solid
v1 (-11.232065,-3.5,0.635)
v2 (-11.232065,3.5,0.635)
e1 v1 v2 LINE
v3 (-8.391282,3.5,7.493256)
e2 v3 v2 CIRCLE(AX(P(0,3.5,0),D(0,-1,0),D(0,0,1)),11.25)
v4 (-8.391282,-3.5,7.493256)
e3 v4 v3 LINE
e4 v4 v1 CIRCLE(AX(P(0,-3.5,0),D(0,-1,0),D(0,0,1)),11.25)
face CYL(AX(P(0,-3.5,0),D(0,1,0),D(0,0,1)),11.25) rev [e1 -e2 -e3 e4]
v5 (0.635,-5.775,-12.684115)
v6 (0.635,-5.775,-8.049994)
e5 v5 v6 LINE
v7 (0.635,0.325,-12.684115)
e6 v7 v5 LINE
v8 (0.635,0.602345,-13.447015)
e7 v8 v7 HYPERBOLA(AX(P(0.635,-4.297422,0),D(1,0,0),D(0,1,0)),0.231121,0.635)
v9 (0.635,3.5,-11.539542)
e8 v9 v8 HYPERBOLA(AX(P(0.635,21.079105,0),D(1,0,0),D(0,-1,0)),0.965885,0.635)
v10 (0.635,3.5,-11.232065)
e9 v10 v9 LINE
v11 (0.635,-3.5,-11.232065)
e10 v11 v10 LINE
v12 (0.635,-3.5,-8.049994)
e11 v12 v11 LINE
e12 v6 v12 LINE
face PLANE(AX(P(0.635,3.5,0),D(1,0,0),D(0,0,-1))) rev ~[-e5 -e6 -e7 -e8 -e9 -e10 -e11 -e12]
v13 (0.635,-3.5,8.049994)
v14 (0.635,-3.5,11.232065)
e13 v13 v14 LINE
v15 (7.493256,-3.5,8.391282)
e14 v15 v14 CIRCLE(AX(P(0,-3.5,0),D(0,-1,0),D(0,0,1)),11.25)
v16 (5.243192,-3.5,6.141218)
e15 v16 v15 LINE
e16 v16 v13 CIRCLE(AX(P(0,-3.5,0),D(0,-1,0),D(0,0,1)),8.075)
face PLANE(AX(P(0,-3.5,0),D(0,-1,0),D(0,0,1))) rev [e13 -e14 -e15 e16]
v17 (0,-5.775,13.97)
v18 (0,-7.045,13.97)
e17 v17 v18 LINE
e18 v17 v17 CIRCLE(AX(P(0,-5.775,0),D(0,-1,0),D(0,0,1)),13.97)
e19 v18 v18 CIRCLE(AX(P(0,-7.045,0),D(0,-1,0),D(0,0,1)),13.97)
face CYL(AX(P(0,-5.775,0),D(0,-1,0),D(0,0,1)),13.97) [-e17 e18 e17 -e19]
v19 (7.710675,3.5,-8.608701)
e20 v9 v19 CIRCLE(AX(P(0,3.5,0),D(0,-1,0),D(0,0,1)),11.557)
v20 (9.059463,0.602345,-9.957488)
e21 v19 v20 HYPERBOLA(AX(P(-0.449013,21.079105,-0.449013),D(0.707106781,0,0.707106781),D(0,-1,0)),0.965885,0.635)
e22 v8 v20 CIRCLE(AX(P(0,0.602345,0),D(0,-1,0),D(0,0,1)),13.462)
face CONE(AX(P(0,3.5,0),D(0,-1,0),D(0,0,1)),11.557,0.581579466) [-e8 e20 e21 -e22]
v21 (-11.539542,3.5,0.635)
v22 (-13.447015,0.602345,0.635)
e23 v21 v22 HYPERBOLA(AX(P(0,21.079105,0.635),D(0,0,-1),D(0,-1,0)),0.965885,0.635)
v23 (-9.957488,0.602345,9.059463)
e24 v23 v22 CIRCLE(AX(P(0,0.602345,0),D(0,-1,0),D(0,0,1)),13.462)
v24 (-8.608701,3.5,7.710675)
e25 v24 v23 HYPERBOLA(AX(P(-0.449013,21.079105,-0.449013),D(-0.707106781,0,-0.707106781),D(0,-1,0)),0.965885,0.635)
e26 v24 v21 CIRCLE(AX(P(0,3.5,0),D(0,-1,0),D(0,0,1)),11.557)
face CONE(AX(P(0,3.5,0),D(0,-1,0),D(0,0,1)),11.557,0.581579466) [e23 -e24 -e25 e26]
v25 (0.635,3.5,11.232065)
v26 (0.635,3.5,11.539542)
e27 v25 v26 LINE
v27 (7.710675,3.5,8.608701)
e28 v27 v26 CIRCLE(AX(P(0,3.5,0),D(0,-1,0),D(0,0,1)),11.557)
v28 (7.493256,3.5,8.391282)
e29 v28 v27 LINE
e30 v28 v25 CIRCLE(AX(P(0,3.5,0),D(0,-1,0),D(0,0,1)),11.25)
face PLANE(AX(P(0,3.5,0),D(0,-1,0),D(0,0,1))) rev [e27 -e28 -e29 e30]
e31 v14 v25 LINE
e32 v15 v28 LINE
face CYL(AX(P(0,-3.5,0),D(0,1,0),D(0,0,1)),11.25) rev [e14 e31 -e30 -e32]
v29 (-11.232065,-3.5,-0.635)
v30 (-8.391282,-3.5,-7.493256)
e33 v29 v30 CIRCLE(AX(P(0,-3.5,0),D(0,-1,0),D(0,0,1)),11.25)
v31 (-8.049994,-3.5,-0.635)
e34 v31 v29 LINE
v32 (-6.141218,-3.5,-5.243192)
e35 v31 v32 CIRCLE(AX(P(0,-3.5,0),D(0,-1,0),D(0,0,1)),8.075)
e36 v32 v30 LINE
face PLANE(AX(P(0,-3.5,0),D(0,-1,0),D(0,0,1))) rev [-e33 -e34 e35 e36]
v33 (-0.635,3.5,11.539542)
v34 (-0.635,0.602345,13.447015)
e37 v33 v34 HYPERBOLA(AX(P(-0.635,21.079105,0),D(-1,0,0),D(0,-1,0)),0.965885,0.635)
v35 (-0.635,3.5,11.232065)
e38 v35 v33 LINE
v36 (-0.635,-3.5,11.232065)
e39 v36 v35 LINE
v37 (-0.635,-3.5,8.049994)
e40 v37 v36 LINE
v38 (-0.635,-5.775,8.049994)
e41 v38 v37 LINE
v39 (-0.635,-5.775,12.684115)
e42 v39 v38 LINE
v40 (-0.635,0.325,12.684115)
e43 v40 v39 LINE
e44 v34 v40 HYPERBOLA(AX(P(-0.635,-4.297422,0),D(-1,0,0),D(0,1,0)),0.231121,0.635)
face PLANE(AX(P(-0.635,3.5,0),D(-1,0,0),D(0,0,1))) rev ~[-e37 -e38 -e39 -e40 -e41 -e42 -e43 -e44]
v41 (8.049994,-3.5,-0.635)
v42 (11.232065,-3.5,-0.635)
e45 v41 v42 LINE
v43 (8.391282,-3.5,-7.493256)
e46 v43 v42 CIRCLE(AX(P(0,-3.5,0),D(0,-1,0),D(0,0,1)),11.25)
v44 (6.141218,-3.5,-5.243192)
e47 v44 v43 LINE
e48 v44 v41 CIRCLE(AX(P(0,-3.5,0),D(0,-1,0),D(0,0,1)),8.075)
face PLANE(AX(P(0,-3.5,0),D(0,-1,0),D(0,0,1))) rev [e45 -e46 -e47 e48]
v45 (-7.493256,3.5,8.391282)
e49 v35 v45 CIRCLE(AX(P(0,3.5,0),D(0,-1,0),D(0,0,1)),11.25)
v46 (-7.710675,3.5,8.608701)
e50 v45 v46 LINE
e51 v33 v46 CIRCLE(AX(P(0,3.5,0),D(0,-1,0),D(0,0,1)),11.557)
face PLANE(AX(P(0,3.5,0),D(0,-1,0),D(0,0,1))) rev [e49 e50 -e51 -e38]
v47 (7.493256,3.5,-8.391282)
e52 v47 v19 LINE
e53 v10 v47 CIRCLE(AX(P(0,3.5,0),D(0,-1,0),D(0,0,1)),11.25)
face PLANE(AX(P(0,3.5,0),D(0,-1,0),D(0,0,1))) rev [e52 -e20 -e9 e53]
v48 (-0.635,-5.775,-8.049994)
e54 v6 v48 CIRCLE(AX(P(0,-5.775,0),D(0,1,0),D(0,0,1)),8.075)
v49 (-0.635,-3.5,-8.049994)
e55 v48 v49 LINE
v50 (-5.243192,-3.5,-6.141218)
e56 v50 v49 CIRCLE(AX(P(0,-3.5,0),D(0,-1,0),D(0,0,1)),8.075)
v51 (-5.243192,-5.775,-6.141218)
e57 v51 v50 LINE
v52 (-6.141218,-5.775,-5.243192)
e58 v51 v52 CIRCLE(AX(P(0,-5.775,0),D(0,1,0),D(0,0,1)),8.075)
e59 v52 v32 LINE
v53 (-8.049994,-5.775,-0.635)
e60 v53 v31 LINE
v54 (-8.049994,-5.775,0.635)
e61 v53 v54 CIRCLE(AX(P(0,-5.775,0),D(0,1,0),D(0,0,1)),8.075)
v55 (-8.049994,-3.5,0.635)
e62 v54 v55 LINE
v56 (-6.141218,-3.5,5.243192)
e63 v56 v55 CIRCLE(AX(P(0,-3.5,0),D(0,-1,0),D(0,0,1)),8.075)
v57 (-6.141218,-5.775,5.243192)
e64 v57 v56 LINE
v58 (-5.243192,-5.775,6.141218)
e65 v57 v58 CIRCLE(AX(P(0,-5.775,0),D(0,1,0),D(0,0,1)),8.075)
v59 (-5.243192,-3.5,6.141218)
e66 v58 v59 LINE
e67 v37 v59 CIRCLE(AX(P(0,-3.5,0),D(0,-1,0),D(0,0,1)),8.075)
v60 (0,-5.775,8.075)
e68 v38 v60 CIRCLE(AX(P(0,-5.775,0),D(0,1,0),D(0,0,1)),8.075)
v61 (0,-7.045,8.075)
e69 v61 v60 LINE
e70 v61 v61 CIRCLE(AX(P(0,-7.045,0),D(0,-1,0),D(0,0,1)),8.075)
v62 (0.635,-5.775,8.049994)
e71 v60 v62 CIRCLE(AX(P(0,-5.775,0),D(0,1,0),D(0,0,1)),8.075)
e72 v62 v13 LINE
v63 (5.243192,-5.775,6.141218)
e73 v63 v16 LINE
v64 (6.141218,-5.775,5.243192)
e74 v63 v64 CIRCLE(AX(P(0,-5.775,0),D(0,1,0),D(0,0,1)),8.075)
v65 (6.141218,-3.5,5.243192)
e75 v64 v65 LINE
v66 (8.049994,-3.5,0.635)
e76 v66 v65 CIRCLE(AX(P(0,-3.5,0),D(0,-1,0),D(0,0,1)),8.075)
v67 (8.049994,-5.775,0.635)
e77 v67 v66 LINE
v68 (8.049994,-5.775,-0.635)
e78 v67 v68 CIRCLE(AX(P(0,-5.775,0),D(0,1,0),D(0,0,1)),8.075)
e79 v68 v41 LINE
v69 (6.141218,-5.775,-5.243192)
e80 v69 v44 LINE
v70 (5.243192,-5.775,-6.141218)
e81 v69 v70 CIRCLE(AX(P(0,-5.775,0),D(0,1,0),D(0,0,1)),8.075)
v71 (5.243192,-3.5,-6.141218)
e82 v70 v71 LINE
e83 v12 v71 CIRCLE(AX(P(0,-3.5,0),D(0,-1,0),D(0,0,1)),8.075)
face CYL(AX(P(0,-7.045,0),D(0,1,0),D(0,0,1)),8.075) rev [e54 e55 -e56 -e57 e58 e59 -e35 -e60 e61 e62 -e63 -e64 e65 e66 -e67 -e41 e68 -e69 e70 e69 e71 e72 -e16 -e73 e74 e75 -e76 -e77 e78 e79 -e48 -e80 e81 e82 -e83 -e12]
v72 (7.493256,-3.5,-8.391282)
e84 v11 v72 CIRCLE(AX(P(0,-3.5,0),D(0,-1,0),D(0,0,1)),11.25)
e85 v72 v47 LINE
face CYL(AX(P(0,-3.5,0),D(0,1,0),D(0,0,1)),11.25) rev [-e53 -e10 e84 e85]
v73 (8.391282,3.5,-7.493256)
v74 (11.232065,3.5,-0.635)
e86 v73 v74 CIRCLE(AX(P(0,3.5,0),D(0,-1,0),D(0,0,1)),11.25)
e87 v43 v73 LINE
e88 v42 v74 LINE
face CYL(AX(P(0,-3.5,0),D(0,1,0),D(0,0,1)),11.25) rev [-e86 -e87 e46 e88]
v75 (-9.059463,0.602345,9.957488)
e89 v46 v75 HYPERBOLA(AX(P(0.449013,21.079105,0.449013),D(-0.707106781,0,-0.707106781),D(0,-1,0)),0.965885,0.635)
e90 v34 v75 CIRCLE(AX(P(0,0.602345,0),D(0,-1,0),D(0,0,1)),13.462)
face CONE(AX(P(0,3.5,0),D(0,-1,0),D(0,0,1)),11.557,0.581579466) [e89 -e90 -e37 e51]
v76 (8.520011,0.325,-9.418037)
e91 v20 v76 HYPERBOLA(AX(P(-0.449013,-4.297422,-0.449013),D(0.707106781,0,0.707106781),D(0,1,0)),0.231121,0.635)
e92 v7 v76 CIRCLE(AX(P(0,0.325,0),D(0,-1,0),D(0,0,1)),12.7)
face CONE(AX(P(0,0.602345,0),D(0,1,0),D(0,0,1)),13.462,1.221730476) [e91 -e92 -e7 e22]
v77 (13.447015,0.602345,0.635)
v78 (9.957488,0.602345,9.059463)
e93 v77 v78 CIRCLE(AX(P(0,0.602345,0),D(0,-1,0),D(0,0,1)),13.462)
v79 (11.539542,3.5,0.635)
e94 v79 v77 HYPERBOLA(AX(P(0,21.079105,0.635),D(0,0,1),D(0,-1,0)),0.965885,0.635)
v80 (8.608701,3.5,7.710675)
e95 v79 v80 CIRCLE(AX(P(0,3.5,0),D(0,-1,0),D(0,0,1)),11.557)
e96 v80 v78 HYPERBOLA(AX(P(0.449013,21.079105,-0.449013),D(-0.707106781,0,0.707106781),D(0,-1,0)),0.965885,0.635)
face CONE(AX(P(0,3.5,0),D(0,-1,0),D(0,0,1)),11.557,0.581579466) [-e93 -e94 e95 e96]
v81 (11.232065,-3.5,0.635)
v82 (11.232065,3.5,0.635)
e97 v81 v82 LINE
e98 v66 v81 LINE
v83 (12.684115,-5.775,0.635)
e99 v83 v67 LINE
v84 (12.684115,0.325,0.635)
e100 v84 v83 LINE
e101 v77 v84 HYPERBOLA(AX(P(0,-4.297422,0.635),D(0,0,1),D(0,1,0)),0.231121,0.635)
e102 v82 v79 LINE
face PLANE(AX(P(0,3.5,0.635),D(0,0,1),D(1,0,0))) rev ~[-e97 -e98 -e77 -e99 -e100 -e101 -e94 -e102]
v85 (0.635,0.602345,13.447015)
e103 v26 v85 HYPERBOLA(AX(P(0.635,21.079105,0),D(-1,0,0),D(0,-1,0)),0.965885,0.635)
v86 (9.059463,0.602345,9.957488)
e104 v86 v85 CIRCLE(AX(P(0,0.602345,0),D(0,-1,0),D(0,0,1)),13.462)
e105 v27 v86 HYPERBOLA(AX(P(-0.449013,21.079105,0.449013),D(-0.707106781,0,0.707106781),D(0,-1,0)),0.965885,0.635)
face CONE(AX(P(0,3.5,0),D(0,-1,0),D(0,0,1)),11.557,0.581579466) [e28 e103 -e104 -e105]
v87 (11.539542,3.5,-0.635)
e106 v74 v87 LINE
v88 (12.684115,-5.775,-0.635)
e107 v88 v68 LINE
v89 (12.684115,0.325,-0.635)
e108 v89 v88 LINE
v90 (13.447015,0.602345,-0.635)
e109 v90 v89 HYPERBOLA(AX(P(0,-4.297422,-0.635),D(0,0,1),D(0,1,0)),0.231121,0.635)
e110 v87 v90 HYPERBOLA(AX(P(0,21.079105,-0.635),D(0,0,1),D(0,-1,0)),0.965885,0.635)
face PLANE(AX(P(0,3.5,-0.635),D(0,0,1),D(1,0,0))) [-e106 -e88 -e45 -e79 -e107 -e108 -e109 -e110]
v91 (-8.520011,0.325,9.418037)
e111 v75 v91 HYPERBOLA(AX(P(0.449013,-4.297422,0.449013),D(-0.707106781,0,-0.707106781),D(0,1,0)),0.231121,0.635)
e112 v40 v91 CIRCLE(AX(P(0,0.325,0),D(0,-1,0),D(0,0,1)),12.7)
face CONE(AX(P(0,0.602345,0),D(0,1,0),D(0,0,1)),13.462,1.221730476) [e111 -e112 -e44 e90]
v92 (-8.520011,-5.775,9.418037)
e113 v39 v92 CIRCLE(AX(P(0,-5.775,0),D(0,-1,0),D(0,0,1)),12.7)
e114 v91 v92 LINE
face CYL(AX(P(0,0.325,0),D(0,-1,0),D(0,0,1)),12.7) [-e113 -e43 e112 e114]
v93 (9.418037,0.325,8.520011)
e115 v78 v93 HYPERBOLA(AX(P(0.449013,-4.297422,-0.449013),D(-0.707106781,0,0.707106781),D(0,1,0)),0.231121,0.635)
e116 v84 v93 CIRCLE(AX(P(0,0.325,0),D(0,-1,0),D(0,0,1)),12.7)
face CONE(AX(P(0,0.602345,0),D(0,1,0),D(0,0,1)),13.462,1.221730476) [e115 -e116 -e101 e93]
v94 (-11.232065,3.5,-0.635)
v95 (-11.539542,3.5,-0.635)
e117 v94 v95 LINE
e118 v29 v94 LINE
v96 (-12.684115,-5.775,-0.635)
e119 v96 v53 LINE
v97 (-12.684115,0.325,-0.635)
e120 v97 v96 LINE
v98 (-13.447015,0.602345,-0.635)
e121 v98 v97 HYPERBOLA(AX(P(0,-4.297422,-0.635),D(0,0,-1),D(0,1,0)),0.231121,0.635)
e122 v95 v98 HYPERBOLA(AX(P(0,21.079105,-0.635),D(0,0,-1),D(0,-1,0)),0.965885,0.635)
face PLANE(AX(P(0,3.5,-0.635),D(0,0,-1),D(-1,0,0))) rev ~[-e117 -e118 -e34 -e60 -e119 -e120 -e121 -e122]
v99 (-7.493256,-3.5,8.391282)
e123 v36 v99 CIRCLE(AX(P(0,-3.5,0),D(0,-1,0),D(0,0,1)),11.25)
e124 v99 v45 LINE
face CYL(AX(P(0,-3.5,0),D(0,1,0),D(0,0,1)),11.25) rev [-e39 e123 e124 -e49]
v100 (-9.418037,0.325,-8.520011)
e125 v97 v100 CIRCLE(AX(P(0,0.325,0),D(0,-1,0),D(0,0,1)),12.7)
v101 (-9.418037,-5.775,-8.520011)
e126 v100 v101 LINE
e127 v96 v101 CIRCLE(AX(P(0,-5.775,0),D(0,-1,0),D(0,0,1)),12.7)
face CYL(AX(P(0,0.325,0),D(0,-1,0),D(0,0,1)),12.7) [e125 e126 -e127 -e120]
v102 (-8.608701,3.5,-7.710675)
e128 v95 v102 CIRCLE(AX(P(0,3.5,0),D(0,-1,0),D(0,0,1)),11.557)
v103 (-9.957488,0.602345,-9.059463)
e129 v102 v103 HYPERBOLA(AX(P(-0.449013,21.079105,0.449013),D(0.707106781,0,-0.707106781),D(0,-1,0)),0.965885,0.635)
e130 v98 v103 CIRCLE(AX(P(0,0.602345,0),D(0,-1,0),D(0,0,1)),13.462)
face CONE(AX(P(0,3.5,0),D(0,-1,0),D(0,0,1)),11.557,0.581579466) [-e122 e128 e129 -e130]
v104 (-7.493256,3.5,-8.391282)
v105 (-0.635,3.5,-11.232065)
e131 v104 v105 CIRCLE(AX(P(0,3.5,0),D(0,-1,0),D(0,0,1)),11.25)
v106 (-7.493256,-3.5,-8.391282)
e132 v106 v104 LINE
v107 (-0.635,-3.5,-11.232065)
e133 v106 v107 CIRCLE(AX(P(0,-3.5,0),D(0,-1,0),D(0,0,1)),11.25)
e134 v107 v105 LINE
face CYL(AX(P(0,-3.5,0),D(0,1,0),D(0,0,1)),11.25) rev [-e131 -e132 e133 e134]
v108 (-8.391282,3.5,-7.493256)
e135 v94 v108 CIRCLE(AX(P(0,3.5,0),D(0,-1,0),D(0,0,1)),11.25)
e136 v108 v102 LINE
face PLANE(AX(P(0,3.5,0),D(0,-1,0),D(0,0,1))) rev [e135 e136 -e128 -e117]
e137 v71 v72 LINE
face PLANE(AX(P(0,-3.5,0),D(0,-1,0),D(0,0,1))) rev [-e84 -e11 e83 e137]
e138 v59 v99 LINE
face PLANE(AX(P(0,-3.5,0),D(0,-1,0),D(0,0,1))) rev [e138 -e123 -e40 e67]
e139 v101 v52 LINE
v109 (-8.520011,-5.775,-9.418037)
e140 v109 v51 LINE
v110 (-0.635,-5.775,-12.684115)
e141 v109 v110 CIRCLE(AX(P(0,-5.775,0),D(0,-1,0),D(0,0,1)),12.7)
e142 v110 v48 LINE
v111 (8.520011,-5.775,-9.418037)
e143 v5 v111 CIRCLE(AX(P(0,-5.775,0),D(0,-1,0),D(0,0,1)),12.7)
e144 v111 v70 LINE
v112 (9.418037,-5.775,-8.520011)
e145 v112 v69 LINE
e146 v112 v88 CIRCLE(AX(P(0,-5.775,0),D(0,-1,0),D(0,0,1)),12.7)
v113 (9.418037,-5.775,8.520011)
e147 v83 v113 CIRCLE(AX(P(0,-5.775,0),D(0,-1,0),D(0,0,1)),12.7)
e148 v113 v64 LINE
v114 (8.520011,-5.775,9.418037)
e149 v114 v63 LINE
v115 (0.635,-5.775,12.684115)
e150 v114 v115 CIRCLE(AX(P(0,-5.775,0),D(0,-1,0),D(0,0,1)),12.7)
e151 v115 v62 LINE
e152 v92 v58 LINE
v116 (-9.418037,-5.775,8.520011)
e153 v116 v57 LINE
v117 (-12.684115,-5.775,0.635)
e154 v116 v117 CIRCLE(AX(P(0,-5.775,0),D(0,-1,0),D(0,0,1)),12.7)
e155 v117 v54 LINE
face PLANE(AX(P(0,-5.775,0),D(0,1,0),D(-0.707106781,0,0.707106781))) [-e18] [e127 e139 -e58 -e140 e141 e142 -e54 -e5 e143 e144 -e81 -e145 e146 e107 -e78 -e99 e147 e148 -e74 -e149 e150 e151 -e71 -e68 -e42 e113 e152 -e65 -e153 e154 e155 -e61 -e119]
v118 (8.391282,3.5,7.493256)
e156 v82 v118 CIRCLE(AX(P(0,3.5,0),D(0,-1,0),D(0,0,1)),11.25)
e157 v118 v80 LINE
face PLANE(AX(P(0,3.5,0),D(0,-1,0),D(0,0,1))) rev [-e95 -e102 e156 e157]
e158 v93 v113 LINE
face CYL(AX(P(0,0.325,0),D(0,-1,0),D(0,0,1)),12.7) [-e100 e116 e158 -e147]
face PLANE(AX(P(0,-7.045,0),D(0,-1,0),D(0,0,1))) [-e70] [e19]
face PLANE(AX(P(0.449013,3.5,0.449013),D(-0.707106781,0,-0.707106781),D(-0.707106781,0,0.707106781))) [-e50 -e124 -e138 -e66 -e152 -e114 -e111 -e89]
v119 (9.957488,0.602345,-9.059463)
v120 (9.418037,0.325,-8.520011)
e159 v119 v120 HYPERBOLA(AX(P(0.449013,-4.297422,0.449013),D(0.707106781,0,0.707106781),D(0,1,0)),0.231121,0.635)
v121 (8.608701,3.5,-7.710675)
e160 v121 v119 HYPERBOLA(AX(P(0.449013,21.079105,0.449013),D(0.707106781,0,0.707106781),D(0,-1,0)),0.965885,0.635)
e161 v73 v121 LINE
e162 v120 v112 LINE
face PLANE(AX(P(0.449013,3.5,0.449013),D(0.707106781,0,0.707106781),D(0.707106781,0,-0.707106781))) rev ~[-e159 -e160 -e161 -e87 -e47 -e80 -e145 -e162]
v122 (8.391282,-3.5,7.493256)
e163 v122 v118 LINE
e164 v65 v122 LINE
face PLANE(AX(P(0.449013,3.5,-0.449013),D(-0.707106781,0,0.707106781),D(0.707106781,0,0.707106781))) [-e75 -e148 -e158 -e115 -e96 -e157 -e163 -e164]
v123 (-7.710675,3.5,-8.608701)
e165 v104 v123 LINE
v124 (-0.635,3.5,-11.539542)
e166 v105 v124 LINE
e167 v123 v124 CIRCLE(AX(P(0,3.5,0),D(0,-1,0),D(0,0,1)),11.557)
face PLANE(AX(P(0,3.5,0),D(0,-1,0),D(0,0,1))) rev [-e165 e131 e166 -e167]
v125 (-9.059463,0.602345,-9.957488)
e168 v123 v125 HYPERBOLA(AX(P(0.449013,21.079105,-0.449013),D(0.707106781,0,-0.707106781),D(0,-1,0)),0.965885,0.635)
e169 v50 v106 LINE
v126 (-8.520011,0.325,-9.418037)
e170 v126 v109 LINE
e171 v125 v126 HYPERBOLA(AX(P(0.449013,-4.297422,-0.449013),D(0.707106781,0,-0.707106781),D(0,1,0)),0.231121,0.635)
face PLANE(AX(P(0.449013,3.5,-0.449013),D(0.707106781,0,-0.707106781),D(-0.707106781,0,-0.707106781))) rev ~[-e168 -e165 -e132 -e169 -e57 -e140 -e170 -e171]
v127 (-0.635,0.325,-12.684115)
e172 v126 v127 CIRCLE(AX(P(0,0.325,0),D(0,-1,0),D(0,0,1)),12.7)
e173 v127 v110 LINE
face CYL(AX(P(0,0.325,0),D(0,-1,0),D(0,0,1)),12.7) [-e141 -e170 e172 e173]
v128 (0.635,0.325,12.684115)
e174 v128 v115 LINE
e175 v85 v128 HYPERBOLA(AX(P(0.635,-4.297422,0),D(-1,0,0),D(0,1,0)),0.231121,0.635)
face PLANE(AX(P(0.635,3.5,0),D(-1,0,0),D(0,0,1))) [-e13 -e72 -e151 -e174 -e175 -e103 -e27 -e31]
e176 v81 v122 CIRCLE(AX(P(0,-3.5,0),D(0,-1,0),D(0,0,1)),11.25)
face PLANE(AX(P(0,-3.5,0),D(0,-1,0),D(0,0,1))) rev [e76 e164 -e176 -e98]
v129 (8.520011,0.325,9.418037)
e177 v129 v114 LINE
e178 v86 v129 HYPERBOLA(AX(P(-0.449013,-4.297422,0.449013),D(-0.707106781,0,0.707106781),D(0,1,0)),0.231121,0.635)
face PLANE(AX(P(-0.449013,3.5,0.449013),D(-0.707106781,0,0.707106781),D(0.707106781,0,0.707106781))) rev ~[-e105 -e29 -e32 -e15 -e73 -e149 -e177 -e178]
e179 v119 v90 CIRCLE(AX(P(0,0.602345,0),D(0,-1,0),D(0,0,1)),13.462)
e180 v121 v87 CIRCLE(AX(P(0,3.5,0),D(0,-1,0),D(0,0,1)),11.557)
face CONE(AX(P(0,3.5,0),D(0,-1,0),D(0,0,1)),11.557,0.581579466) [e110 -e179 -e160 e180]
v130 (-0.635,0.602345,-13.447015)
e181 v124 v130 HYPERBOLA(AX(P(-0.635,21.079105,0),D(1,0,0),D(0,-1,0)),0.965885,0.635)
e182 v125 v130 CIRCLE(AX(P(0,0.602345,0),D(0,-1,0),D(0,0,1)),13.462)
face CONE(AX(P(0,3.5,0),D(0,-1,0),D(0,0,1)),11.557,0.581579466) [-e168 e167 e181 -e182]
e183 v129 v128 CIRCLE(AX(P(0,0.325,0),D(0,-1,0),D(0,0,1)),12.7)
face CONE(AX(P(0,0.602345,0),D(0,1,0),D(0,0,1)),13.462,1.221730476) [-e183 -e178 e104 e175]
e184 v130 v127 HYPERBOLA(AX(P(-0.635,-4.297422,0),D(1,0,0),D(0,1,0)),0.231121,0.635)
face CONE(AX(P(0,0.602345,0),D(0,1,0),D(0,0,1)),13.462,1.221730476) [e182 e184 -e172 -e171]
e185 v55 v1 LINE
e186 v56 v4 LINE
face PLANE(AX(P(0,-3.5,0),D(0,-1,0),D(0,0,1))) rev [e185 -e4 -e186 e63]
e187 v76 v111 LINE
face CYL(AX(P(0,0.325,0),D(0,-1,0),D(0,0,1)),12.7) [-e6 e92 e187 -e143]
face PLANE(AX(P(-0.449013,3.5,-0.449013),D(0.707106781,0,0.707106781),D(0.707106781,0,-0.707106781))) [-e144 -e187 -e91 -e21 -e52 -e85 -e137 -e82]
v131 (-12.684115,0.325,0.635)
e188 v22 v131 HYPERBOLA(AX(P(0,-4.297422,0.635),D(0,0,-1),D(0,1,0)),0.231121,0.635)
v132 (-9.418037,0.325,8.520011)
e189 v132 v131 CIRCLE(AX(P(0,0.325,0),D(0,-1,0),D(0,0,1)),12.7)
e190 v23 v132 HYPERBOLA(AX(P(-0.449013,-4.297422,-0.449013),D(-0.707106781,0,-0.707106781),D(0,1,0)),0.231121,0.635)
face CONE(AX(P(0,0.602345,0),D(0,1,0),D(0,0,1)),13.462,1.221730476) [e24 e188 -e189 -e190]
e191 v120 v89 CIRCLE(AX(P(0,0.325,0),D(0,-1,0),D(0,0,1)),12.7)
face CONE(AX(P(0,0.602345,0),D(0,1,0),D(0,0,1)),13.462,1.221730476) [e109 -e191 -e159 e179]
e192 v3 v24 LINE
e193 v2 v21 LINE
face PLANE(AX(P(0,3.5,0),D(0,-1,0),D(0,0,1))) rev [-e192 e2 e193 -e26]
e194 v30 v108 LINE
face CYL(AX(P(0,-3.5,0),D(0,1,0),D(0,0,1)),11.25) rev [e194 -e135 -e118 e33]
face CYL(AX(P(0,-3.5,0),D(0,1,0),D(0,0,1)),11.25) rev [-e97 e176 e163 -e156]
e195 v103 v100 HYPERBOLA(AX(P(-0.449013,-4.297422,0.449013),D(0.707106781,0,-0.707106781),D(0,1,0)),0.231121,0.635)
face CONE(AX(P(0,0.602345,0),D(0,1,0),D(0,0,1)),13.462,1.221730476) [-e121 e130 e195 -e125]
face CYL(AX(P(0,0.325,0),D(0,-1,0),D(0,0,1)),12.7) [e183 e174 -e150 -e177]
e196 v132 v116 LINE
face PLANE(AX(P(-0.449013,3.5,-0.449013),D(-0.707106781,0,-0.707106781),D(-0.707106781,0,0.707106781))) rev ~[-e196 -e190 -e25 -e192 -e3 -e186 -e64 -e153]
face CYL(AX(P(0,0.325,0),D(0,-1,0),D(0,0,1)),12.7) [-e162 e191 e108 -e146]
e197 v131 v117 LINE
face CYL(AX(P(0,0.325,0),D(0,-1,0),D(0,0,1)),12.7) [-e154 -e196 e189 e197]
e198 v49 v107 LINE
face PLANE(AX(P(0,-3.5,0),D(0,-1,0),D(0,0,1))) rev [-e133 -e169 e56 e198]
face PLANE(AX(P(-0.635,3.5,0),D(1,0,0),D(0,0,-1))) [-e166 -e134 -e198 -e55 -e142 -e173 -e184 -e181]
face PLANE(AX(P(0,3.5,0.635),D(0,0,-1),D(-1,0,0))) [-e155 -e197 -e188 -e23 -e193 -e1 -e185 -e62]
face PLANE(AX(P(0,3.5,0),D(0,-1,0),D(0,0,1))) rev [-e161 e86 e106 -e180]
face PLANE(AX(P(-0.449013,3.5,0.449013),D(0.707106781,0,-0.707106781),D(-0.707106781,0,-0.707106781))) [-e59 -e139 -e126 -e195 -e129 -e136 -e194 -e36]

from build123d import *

# Parameters (mm, degrees)
CUT_EXTRUDE3_REACH             = 24.395
SKETCH6_W                      = 1.27
SKETCH6_H                      = 13.462
CUT_EXTRUDE3_DIRECTION_2_DEPTH = 23.394615982
CIRPATTERN1_COUNT              = 8


with BuildPart() as part:
    # Sketch5 → Revolve1 (revolve)
    with BuildSketch(Plane.XY, mode=Mode.PRIVATE) as revolve1_sk:
        Polygon((-11.249999979, -3.5), (-11.249999979, 3.5), (-11.557, 3.5), (-13.462, 0.602345319), (-12.7, 0.325), (-12.7, -5.775), (-13.97, -5.775), (-13.97, -7.045), (-8.074999979, -7.045), (-8.074999979, -3.5), align=None)
    revolve(revolve1_sk.sketch.rotate(Axis((0, 0.325, 0), (0, -1, 0)), 270), axis=Axis((0, 0.325, 0), (0, -1, 0)))

    # Cut-Extrude3: up to this face of the body (flat: up to its plane)
    cut_extrude3_end = Plane(part.part.faces().sort_by_distance((0, -5.775, -13.095131269))[0])
    # Sketch6 → Cut-Extrude3 (cut, up to the picked face)
    with BuildSketch(Plane(origin=(0, 3.5, 0), x_dir=(1, 0, 0), z_dir=(0, 1, 0)), mode=Mode.PRIVATE) as cut_extrude3_sk1:
        with Locations((0, 6.731)):
            Rectangle(SKETCH6_W, SKETCH6_H)
    cut_extrude3_tool1 = split(extrude(cut_extrude3_sk1.sketch, amount=-CUT_EXTRUDE3_REACH, mode=Mode.PRIVATE), bisect_by=cut_extrude3_end, keep=Keep.BOTH, mode=Mode.PRIVATE)
    cut_extrude3 = cut_extrude3_tool1.solids().sort_by(Axis((0, 3.5, -6.731), (0, -1, 0)))[0]
    add(cut_extrude3, mode=Mode.SUBTRACT)

    # Sketch6 → Cut-Extrude3 direction 2 (cut)
    with BuildSketch(Plane(origin=(0, 3.5, 0), x_dir=(1, 0, 0), z_dir=(0, 1, 0))):
        with Locations((0, 6.731)):
            Rectangle(SKETCH6_W, SKETCH6_H)
    cut_extrude3_direction_2 = extrude(amount=CUT_EXTRUDE3_DIRECTION_2_DEPTH, mode=Mode.SUBTRACT)

    # CirPattern1: Cut-Extrude3, Cut-Extrude3 direction 2 ×8 about axis
    cirpattern1_axis = Axis((0, 0, 0), (0, 1, 0))
    add([cut_extrude3.rotate(cirpattern1_axis, i * 360 / CIRPATTERN1_COUNT) for i in range(1, CIRPATTERN1_COUNT)], mode=Mode.SUBTRACT)
    add([cut_extrude3_direction_2.rotate(cirpattern1_axis, i * 360 / CIRPATTERN1_COUNT) for i in range(1, CIRPATTERN1_COUNT)], mode=Mode.SUBTRACT)


solid = part.part
